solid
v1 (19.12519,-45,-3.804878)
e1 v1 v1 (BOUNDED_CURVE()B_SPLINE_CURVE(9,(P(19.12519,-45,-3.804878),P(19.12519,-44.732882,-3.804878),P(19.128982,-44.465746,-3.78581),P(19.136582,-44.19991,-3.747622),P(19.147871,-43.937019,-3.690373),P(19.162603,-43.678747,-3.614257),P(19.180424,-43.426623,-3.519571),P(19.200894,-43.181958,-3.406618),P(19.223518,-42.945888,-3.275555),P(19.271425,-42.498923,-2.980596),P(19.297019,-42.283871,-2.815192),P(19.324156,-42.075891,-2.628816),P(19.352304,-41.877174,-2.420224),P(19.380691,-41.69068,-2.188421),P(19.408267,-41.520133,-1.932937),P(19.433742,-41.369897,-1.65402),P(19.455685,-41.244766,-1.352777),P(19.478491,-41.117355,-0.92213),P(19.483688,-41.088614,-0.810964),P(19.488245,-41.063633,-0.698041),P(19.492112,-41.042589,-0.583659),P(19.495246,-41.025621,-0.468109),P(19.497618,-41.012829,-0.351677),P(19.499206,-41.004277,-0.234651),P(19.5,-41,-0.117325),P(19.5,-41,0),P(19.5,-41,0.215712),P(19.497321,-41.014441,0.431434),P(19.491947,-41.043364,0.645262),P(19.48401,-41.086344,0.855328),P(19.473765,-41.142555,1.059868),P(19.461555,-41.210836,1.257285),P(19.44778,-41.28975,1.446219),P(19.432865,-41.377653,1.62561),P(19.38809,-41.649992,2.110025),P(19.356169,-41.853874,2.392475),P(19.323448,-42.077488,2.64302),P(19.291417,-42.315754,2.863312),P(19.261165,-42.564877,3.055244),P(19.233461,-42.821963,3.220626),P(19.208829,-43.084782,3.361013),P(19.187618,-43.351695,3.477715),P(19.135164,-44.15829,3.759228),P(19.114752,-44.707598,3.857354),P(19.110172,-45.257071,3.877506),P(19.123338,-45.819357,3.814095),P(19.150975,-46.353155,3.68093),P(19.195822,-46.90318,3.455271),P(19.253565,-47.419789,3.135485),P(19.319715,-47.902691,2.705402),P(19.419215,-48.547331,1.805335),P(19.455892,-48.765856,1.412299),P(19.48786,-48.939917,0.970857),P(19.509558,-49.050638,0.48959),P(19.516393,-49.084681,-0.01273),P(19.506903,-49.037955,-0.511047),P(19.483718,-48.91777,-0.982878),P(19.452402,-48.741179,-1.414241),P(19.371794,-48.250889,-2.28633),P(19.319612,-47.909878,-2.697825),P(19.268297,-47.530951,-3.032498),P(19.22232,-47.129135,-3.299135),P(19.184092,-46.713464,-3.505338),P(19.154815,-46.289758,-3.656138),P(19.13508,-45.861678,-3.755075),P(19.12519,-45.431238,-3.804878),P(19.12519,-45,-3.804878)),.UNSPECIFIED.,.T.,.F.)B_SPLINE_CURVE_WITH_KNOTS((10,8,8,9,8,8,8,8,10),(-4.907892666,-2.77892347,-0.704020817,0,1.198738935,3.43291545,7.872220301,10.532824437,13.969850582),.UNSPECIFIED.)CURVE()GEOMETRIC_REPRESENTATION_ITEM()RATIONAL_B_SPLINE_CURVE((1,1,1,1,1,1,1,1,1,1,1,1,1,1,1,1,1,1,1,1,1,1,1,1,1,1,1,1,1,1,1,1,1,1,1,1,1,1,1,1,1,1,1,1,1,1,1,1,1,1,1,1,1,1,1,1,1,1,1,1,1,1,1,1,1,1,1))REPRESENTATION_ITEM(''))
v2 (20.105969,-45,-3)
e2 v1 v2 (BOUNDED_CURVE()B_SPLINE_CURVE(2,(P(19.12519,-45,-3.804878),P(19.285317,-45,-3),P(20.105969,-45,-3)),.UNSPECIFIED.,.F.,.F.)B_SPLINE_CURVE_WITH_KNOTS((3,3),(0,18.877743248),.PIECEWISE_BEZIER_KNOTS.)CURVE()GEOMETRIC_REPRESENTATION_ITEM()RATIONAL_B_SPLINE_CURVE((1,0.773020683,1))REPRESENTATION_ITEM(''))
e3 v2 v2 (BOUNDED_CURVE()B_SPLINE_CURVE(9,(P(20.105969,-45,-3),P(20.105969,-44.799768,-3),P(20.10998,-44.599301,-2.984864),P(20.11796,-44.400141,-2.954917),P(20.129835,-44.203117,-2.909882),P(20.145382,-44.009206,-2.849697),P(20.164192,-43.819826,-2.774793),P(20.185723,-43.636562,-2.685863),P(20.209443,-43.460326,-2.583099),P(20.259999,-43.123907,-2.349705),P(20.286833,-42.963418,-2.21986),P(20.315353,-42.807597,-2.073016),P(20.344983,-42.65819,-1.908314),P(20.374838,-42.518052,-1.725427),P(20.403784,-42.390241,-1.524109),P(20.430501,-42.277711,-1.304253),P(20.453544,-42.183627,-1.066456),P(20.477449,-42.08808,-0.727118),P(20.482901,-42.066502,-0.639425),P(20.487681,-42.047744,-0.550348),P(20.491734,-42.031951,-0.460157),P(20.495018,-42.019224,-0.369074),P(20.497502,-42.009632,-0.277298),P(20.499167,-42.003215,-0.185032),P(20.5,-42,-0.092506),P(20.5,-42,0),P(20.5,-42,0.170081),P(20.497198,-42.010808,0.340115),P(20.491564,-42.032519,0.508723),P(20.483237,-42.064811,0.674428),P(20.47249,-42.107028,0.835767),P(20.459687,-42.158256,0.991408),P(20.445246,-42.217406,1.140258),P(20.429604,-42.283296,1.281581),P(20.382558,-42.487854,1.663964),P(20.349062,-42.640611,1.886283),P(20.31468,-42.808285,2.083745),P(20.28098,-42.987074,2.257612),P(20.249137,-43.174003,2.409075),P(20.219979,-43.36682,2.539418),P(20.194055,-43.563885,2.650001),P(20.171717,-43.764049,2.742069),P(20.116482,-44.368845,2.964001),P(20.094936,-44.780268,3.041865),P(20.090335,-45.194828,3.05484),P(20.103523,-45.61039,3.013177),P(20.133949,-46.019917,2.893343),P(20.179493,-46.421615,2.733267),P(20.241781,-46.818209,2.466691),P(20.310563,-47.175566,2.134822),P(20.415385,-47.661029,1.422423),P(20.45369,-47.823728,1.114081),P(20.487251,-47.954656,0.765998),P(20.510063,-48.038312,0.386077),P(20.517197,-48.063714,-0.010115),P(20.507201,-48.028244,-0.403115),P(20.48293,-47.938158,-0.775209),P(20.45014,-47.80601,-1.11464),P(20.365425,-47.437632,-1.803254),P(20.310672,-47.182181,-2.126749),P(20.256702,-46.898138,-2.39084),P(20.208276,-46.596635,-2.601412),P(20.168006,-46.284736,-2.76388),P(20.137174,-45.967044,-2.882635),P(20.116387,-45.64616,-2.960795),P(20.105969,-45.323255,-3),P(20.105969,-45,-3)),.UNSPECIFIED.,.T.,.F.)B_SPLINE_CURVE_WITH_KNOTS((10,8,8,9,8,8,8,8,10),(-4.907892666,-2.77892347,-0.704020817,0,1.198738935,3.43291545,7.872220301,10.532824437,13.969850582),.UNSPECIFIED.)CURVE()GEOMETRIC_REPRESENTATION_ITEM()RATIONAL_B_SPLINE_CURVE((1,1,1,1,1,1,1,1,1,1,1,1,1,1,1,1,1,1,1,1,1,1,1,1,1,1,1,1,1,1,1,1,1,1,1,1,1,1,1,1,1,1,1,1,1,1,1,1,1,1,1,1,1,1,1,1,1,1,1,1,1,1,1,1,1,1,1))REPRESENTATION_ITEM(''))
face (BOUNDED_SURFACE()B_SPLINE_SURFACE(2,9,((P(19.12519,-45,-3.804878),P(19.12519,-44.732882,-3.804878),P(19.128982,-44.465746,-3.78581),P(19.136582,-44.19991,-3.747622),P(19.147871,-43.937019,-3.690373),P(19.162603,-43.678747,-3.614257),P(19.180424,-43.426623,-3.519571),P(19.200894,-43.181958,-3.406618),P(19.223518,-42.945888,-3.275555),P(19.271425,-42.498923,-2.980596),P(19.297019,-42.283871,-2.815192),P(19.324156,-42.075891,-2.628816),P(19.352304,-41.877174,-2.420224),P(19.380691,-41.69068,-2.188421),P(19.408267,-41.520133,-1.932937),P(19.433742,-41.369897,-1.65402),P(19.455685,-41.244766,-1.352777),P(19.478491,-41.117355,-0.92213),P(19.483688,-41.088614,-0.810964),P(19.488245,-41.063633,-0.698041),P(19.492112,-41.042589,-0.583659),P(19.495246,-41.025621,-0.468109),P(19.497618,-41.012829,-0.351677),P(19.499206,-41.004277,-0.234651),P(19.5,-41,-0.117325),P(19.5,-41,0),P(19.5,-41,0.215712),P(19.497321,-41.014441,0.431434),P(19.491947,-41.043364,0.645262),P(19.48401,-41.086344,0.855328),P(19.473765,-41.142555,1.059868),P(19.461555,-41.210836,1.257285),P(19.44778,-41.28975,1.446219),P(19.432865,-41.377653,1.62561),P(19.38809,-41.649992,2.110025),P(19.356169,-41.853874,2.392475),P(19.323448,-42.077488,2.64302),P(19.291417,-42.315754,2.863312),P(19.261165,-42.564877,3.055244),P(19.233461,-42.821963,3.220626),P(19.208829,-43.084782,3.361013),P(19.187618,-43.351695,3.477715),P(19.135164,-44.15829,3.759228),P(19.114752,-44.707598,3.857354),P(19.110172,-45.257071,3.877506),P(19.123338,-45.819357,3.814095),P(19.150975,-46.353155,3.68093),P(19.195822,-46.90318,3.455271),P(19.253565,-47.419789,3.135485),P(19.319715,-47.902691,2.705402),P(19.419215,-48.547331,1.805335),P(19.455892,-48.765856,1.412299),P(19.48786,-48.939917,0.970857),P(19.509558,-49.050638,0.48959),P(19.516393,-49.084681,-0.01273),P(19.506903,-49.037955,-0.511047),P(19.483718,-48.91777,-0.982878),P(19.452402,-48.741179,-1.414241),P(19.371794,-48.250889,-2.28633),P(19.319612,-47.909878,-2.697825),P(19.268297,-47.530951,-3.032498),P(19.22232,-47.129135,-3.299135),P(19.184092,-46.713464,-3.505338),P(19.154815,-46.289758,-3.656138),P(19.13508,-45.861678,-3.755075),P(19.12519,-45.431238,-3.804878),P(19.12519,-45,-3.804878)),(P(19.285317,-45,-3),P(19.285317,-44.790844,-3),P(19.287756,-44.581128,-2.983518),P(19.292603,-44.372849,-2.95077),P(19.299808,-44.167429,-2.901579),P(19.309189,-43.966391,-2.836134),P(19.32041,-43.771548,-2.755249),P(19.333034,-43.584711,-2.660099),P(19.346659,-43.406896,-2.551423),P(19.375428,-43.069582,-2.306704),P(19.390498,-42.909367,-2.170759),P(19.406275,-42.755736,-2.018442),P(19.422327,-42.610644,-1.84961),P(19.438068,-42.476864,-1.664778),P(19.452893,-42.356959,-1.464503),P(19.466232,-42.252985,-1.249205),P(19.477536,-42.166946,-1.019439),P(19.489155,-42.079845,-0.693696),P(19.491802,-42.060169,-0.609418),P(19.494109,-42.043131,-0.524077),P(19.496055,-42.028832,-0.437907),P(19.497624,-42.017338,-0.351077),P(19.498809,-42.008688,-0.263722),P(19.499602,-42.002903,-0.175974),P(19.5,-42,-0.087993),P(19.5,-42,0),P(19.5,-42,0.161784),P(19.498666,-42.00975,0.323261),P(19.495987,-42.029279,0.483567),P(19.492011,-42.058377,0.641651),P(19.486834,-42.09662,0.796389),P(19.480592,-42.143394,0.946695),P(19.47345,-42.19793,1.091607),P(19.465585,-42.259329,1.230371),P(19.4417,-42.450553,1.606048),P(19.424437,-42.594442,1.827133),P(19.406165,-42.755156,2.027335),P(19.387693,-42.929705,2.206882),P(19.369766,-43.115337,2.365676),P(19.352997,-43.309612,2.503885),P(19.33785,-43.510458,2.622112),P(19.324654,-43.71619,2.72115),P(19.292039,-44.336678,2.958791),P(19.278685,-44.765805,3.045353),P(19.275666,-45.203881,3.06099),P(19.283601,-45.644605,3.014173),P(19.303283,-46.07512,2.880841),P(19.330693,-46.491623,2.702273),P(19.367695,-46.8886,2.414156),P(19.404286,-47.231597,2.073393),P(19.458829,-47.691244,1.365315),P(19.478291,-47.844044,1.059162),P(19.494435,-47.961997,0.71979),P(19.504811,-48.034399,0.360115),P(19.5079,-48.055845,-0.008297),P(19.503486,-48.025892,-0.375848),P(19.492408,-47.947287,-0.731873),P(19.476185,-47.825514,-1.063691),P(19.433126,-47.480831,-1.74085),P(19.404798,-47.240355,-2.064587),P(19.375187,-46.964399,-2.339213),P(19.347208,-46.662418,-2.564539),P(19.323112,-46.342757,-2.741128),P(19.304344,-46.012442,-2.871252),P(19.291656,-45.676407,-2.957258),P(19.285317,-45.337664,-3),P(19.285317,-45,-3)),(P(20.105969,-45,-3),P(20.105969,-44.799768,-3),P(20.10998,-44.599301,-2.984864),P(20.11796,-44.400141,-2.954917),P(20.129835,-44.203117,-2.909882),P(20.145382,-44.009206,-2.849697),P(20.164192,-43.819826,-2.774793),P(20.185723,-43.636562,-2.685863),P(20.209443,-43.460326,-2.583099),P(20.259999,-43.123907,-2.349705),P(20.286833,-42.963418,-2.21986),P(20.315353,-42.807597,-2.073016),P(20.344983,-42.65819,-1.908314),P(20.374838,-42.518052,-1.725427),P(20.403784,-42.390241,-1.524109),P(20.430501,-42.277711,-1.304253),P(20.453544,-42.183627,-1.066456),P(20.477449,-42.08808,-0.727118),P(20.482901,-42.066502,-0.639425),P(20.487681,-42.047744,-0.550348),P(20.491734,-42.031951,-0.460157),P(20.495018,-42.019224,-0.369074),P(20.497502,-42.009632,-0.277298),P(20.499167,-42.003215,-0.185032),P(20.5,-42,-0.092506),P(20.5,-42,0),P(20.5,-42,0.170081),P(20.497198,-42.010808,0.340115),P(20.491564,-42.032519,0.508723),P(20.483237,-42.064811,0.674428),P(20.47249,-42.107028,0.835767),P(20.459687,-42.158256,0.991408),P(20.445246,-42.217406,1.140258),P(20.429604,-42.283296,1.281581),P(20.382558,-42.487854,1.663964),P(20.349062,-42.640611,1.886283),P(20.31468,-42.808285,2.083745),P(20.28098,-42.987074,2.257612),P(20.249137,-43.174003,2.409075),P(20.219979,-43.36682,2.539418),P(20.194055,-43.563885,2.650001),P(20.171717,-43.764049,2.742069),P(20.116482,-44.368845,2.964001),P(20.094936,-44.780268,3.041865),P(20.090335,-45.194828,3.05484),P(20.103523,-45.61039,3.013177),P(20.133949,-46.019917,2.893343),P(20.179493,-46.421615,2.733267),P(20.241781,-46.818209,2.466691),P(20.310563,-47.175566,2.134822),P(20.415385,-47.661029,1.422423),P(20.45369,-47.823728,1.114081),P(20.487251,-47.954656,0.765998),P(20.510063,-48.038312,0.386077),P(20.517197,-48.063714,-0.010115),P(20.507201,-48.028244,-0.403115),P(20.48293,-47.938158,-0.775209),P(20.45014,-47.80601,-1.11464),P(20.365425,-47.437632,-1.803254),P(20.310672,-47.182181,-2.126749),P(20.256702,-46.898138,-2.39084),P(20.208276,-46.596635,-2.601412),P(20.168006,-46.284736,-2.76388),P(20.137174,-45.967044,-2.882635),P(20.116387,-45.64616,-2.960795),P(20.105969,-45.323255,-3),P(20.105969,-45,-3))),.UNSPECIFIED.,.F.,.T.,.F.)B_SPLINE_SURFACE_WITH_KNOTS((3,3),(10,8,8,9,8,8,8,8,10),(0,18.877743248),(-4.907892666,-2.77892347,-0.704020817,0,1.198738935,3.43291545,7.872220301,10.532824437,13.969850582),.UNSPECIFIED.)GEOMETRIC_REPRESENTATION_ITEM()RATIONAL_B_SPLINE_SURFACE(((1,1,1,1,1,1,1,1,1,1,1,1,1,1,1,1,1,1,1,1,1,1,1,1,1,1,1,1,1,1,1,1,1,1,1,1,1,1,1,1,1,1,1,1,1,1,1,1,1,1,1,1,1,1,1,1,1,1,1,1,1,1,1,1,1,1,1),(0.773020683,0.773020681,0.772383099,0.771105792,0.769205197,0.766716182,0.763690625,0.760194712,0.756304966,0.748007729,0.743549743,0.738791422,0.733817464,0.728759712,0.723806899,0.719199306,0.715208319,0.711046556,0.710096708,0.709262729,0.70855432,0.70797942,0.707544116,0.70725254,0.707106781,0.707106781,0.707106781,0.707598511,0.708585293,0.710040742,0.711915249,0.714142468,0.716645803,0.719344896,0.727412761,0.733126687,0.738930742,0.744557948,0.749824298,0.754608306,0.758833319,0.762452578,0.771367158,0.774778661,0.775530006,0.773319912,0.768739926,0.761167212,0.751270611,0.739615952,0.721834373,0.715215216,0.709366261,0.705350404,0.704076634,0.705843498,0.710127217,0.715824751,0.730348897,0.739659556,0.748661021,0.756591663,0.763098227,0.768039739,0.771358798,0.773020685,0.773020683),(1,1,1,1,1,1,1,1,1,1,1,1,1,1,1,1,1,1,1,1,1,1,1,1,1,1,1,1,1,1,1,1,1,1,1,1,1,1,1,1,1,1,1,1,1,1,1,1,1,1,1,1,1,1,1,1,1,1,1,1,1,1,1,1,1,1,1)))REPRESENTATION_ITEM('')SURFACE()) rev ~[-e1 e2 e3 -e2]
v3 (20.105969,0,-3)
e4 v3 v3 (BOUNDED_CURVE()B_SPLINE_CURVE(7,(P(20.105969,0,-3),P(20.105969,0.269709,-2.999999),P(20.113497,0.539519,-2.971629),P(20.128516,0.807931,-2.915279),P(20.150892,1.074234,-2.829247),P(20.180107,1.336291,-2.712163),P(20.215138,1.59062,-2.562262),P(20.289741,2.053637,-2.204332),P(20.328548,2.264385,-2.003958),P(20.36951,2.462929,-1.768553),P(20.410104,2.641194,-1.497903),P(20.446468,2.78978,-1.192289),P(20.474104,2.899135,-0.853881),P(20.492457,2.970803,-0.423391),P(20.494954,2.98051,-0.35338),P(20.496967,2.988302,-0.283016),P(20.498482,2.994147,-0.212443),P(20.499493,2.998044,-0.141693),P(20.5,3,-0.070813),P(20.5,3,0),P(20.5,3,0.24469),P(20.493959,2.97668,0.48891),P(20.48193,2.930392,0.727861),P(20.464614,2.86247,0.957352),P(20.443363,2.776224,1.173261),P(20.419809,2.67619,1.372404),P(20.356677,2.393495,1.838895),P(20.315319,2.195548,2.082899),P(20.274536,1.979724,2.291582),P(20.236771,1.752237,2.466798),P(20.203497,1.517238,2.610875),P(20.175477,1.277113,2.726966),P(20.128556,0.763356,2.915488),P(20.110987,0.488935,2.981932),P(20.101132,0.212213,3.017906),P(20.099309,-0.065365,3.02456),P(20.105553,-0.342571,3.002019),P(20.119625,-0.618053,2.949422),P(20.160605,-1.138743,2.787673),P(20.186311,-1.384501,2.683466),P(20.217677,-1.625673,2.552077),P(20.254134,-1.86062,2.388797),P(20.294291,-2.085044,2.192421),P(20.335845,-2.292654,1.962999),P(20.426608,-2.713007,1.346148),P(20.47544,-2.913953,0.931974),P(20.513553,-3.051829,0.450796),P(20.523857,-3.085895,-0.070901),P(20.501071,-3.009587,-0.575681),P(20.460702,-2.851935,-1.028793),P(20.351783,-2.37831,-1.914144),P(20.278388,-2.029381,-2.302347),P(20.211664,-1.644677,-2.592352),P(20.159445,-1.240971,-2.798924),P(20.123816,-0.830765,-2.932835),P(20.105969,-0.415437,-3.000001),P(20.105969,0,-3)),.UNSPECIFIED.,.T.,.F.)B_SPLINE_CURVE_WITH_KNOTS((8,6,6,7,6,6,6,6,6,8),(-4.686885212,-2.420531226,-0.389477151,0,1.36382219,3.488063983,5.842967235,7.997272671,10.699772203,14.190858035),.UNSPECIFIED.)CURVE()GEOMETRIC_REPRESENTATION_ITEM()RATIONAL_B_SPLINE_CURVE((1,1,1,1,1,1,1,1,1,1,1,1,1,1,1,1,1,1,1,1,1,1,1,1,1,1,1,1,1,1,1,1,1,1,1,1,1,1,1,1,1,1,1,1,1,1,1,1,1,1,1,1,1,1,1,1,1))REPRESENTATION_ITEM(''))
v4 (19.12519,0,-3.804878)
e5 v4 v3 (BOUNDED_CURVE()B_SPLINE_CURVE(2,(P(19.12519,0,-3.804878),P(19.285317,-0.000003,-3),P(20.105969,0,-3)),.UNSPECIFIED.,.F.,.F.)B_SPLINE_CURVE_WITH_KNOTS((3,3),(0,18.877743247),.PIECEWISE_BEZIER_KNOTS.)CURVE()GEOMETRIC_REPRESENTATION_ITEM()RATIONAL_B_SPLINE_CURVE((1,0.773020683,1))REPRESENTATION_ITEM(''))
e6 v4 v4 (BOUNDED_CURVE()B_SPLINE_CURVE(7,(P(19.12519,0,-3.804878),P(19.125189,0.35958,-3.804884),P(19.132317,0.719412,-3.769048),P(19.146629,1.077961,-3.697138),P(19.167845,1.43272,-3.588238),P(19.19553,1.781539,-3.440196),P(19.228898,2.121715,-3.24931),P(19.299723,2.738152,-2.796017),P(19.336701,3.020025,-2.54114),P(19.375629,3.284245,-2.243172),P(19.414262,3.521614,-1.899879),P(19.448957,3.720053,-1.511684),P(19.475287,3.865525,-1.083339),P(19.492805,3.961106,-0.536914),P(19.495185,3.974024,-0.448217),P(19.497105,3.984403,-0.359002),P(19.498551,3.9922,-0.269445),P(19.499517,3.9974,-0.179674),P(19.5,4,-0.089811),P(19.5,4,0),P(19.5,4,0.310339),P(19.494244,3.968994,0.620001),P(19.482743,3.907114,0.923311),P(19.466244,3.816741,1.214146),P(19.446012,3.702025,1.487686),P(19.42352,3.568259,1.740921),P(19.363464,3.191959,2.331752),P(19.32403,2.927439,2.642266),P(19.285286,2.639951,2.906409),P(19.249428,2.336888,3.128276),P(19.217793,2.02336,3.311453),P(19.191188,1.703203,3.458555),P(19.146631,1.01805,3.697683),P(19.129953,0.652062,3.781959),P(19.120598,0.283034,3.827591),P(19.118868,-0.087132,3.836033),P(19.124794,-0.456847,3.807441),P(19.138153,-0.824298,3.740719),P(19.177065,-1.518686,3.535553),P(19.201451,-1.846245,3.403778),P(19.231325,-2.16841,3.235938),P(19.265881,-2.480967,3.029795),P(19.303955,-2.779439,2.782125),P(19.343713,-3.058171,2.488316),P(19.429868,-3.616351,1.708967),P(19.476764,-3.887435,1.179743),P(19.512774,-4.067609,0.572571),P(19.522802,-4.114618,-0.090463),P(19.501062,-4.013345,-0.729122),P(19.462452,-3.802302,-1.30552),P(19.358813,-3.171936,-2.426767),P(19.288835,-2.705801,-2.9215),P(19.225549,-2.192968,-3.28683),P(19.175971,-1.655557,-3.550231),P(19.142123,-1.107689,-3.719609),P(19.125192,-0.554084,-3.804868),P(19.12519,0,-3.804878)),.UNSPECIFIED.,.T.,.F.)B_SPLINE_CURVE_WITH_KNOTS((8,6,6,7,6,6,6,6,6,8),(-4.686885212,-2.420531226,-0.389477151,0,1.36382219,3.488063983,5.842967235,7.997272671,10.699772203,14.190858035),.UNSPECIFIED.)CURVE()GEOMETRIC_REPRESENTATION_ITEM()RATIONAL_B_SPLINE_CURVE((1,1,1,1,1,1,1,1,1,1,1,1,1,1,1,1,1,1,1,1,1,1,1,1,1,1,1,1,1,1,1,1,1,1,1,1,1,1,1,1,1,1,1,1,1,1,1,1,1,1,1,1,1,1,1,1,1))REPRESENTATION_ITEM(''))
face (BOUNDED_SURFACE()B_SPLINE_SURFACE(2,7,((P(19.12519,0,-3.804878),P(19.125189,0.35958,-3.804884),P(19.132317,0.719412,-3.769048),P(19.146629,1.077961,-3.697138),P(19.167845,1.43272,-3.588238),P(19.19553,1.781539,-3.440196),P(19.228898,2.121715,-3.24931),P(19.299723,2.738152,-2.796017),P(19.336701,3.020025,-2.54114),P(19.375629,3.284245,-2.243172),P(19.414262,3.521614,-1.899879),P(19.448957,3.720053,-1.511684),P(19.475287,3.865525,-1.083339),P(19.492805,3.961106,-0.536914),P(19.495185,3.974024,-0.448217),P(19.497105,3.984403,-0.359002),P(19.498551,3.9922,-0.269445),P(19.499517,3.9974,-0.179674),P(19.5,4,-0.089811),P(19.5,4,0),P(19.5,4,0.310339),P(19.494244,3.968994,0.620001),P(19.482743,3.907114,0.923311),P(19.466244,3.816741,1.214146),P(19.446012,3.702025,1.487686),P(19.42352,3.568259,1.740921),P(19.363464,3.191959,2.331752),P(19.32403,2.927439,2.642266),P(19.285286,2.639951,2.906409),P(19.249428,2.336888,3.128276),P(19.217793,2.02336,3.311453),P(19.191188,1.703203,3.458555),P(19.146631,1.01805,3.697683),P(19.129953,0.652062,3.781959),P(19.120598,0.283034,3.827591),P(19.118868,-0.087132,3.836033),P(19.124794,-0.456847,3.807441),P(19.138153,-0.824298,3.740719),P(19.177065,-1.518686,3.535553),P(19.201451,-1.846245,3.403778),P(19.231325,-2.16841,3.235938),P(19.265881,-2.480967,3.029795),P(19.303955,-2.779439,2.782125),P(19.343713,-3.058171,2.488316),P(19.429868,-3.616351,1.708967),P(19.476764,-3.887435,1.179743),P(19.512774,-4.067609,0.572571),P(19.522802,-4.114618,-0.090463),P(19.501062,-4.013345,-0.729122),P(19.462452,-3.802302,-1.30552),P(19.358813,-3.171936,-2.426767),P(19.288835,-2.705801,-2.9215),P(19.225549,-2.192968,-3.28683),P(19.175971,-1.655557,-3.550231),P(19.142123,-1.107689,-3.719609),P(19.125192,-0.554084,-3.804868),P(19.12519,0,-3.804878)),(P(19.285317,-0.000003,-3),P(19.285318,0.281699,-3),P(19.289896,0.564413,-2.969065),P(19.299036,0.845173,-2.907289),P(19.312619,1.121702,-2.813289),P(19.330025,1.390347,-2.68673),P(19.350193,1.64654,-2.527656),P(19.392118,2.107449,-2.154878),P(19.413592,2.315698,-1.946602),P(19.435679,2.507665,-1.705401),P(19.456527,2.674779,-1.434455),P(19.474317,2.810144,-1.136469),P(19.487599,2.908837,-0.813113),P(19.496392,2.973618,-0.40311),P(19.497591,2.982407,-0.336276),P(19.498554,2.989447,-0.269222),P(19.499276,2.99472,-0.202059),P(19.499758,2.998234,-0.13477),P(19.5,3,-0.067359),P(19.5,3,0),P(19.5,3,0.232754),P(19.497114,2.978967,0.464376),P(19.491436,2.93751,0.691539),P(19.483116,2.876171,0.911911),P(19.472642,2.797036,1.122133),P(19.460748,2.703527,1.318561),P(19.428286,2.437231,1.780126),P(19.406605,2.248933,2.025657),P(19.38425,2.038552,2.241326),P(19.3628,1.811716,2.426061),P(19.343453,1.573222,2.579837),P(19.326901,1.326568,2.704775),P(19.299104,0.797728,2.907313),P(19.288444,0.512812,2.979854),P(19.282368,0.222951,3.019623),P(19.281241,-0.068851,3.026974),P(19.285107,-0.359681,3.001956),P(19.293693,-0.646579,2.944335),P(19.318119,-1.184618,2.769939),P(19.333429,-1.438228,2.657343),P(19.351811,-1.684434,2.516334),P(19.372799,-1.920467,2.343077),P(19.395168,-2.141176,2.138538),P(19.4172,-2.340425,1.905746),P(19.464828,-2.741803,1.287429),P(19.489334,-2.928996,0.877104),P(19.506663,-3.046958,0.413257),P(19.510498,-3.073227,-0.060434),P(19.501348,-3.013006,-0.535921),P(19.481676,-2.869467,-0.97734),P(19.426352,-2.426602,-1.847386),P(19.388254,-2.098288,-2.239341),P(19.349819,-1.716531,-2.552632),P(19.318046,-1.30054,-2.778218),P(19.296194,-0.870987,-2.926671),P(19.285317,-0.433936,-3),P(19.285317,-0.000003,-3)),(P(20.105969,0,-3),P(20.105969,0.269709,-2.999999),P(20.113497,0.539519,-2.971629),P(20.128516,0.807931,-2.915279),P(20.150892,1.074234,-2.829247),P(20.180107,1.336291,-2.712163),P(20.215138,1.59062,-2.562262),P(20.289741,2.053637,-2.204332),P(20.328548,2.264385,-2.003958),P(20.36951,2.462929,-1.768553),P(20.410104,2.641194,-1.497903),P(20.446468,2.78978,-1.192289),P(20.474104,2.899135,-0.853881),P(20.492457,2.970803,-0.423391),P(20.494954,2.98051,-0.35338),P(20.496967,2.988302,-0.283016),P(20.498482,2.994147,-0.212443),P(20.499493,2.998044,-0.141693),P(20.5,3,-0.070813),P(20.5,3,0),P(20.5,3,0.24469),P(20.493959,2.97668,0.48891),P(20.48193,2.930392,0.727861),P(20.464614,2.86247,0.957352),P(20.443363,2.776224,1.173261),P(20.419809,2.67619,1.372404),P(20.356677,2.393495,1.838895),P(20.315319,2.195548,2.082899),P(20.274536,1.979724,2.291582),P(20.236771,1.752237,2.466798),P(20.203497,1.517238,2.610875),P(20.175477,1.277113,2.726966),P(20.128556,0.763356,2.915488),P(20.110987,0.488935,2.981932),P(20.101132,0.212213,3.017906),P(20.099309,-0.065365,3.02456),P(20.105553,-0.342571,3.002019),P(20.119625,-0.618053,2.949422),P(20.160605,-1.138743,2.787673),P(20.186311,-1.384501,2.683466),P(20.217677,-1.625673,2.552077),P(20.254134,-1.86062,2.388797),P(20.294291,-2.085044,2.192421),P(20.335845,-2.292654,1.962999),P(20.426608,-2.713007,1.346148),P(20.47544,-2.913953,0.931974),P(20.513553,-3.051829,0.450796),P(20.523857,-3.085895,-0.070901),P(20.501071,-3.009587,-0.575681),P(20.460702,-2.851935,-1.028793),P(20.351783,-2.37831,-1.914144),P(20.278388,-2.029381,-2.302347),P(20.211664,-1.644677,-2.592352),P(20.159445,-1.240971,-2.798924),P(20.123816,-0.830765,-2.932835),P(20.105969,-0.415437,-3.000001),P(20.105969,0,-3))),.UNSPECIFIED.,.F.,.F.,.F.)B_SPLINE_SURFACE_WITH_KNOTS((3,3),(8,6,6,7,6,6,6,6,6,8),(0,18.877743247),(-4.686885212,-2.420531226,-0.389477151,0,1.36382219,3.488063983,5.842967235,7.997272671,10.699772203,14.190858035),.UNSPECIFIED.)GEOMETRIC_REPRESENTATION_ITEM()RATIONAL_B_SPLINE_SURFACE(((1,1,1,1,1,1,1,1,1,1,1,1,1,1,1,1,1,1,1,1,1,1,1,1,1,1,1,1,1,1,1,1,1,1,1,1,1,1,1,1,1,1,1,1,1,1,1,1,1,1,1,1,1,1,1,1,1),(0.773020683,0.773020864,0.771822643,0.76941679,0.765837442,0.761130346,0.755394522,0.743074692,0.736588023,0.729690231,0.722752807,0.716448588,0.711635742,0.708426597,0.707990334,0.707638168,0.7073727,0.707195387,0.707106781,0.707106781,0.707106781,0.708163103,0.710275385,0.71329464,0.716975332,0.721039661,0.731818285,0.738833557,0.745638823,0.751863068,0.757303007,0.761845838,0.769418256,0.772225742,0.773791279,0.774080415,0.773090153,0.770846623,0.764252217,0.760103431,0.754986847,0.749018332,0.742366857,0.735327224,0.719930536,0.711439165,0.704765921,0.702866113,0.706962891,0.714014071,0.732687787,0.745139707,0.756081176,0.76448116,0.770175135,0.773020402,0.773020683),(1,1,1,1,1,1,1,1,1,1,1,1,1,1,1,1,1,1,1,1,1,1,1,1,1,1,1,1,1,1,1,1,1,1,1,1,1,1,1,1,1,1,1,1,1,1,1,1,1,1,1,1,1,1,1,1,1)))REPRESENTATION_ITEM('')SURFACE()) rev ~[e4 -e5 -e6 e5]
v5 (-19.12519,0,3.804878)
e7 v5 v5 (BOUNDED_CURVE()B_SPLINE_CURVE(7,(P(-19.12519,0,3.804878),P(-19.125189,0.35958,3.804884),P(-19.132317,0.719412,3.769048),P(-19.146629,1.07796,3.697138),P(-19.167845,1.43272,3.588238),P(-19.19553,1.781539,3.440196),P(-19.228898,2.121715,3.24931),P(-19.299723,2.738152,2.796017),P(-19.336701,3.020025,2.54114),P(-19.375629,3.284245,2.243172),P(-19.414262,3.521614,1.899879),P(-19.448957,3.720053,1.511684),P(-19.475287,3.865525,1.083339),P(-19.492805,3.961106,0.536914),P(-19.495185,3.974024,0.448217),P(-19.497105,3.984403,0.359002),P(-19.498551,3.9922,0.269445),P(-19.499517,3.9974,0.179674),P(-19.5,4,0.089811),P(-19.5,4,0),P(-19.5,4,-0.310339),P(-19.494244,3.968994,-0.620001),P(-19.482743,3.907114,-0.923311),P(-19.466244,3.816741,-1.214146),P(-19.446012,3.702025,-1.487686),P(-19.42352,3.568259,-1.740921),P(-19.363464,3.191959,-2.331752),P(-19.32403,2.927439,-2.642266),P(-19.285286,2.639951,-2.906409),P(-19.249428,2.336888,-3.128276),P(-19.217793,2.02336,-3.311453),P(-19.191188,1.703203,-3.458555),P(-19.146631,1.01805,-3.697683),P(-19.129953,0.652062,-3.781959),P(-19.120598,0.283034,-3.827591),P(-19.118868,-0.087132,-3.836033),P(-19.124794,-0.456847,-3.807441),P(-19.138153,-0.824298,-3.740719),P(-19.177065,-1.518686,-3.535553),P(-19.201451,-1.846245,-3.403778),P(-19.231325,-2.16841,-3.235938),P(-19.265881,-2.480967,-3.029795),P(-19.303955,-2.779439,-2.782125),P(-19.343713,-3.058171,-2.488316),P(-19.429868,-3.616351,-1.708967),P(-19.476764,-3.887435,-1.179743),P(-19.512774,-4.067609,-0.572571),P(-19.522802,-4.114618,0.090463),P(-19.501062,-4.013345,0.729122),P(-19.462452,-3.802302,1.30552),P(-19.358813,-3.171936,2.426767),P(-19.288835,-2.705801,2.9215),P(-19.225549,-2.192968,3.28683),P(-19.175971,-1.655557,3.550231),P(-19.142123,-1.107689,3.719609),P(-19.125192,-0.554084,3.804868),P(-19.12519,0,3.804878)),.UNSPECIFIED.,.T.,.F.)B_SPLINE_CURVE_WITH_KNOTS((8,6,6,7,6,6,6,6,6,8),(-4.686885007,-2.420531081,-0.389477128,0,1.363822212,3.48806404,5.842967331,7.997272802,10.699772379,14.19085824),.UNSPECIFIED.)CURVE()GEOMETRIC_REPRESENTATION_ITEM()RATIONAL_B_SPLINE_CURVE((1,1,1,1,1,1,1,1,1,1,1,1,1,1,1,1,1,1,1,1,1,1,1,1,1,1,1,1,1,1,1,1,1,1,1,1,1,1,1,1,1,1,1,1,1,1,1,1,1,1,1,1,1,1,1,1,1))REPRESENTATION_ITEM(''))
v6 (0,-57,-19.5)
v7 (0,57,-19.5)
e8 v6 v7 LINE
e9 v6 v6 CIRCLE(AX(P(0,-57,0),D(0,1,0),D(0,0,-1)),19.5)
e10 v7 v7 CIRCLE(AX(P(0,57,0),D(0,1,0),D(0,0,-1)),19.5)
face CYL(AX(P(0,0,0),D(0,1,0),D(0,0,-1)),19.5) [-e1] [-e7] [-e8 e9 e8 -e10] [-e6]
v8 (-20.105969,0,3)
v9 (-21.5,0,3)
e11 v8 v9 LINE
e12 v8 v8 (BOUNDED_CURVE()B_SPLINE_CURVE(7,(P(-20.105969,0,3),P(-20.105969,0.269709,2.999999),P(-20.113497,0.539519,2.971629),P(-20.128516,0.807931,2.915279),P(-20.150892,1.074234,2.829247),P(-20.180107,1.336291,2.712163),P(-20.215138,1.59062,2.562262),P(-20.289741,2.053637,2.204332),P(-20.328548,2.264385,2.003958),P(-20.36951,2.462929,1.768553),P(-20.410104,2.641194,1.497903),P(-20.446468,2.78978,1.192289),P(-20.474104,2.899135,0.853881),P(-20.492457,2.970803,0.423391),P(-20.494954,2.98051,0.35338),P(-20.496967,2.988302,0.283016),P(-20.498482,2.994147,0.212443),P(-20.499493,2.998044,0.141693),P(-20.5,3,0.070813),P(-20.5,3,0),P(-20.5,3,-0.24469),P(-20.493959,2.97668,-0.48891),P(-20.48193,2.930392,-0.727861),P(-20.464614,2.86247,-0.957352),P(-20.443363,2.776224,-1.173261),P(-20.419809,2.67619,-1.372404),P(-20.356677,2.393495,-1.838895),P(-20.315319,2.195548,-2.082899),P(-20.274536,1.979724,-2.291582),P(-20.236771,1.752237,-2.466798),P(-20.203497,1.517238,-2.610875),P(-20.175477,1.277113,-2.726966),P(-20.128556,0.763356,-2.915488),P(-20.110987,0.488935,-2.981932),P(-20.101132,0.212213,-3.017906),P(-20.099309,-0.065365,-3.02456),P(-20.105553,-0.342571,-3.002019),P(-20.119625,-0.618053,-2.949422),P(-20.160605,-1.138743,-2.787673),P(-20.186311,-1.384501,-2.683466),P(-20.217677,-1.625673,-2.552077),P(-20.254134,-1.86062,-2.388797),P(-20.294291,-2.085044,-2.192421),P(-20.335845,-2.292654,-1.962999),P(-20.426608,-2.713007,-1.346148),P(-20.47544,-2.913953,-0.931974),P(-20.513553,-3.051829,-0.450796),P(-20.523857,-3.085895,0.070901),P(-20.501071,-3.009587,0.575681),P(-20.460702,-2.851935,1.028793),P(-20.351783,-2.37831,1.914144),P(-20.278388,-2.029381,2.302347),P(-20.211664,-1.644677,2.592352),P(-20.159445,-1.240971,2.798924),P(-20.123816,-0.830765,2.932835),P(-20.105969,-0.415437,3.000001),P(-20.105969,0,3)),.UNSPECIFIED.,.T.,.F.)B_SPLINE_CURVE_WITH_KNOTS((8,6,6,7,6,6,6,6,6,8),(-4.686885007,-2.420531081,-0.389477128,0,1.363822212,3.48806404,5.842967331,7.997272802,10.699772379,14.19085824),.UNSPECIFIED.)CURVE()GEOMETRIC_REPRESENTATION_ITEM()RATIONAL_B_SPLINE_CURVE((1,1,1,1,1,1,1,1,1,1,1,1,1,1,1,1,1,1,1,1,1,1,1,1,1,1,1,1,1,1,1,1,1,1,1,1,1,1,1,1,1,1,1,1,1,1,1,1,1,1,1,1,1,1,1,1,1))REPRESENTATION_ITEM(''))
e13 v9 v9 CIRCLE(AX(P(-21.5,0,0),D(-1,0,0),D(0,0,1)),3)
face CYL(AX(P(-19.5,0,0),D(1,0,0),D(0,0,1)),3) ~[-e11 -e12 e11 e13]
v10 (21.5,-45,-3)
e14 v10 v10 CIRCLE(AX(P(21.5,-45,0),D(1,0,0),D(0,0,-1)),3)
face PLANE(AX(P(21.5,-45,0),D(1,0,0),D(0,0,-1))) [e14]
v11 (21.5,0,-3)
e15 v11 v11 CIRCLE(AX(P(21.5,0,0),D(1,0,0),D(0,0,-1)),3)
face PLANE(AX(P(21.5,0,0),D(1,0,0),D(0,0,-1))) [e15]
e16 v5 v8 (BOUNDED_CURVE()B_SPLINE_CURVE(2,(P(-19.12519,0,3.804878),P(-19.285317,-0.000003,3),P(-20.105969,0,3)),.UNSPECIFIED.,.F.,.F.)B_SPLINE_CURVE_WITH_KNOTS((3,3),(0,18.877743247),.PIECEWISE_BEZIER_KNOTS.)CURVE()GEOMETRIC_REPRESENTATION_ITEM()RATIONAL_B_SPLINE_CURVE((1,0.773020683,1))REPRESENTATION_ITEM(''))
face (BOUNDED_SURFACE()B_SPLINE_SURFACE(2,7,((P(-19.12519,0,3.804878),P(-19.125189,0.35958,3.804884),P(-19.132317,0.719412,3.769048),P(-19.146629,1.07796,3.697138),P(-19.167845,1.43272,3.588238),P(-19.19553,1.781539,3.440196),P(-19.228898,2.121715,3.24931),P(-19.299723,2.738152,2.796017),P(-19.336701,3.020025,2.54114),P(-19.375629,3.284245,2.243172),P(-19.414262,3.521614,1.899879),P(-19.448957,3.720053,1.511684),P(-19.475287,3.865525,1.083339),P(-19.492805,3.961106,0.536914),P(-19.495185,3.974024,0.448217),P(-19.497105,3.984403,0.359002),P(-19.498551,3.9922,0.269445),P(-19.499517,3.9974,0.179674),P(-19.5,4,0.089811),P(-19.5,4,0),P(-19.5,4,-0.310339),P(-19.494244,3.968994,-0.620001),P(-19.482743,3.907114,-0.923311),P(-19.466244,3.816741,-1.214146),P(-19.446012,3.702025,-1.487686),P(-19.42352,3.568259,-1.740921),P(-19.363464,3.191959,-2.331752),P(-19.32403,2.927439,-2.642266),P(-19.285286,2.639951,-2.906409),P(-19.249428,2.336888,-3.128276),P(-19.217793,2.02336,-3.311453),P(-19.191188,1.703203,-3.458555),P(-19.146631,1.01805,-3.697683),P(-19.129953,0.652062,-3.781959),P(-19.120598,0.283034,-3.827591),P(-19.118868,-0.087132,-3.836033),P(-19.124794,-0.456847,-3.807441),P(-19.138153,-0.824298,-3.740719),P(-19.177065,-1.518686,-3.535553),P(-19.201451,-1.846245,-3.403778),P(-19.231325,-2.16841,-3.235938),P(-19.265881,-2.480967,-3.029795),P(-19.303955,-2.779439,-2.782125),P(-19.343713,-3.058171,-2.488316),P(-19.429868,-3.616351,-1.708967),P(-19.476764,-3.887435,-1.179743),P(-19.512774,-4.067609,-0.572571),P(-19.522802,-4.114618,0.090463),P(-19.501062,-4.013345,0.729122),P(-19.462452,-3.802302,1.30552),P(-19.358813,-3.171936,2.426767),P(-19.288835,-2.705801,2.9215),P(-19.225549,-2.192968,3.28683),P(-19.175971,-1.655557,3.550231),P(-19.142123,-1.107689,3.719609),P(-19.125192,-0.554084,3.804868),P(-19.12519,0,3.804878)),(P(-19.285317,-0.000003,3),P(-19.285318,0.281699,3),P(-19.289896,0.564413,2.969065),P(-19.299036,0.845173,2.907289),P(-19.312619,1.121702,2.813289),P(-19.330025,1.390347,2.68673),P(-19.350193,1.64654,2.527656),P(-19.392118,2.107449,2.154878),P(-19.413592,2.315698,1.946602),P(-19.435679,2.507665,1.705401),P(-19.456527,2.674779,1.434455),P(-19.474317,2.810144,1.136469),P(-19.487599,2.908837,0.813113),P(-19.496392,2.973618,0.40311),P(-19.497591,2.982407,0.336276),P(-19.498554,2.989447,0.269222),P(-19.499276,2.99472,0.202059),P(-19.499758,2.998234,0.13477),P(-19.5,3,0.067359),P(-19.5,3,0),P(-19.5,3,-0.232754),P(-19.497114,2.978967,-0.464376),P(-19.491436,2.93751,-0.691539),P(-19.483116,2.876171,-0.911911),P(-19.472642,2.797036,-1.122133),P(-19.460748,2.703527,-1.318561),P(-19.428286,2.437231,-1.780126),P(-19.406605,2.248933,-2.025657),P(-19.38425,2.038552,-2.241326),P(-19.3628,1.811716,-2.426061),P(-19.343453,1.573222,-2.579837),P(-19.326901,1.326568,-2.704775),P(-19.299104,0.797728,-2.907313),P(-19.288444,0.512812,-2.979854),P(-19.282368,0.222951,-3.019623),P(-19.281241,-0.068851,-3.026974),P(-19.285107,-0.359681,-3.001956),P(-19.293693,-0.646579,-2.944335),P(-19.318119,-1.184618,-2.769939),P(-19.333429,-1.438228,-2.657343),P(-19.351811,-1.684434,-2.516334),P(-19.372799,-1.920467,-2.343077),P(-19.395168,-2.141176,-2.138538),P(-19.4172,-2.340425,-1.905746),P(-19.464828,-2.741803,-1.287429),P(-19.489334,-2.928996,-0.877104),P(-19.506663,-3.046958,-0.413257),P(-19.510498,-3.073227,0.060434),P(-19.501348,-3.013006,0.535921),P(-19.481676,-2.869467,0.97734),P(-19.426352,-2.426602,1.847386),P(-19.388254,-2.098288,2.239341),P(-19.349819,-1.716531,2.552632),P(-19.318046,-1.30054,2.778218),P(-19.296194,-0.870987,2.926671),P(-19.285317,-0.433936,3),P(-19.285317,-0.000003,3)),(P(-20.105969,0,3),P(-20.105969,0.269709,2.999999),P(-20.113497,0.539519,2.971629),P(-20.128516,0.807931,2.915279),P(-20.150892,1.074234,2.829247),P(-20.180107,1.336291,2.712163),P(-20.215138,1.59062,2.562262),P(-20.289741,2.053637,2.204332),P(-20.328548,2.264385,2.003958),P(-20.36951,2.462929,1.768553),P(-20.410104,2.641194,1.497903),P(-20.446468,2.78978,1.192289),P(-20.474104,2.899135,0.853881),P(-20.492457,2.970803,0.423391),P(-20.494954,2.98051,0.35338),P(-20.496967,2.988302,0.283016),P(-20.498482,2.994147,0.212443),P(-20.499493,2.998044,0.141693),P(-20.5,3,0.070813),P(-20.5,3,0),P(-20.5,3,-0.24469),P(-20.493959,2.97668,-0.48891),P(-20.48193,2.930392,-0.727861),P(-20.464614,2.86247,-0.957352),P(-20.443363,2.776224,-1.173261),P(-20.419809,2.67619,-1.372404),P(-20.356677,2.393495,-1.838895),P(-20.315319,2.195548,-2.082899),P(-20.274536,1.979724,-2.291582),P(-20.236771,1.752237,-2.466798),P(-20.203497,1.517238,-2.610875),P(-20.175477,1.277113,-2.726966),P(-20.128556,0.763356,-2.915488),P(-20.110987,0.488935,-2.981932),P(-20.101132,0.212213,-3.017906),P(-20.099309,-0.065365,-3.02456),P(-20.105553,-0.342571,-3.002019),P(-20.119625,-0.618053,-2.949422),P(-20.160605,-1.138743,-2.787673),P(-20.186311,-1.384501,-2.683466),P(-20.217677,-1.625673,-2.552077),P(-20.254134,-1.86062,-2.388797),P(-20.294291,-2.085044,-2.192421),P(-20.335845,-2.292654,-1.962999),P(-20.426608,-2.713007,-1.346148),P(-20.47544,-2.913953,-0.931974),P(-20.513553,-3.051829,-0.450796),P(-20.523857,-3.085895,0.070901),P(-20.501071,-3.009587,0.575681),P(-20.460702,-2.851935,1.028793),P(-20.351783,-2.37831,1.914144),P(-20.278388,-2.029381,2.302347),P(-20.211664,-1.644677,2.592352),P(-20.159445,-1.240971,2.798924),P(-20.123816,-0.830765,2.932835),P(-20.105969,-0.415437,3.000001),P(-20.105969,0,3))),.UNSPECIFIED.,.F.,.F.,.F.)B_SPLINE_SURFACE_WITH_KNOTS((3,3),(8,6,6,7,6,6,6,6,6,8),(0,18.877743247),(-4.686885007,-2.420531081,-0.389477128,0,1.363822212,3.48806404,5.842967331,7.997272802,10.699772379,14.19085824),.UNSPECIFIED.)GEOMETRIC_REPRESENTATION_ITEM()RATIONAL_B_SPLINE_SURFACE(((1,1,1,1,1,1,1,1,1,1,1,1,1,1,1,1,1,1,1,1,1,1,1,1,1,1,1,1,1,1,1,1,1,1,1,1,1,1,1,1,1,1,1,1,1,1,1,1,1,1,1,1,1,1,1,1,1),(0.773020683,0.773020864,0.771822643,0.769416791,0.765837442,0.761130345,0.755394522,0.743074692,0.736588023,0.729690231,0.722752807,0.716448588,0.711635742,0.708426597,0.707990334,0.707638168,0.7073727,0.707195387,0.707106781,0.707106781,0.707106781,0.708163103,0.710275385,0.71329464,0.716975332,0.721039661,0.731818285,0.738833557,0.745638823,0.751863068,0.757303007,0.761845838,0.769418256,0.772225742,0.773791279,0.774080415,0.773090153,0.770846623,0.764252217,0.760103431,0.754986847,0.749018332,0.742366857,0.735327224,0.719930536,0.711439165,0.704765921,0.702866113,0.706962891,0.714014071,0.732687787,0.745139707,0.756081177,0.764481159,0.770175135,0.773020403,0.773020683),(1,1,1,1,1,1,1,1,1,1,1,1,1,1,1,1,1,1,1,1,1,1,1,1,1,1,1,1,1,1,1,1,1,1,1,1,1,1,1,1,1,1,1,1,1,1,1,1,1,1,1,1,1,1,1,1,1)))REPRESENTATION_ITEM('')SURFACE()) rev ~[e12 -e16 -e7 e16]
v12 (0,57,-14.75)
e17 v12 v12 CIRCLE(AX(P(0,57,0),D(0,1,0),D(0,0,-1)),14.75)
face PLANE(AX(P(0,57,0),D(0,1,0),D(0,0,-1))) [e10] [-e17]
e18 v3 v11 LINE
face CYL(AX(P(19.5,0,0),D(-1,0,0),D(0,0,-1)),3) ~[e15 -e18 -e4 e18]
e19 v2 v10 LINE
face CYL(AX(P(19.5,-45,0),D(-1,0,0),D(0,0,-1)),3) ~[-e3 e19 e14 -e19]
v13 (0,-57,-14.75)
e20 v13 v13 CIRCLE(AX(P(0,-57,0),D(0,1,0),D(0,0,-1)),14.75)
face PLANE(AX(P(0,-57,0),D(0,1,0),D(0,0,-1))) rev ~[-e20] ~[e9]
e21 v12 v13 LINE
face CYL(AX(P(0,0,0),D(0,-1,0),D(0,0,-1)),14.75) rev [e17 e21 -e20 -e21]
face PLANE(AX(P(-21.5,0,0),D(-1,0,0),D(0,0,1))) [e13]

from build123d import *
from build123d.topology import SkipClean

# Parameters (mm, degrees)
SKETCH1_R                            = 19.5
SKETCH1_R_2                          = 14.75
BOSS_EXTRUDE1_DEPTH                  = 57
SKETCH2_R                            = 3
BOSS_EXTRUDE2_DEPTH                  = 2
BOSS_EXTRUDE2_DIRECTION_2_REACH      = 73.765
BOSS_EXTRUDE2_DIRECTION_2_END_RADIUS = 19.5
SKETCH3_R                            = 3
BOSS_EXTRUDE4_DEPTH                  = 2
BOSS_EXTRUDE4_DIRECTION_2_REACH      = 74.871
BOSS_EXTRUDE4_DIRECTION_2_END_RADIUS = 19.5
FILLET3_R                            = 1


with BuildPart() as part:
    # Sketch1 → Boss-Extrude1 (new, symmetric)
    with BuildSketch(Plane(origin=(0, 0, 0), x_dir=(1, 0, 0), z_dir=(0, 1, 0))):
        with Locations(Location((0, 0, 0), (0, 0, 90))):
            Circle(SKETCH1_R)
        with Locations(Location((0, 0, 0), (0, 0, 90))):
            Circle(SKETCH1_R_2, mode=Mode.SUBTRACT)
    extrude(amount=BOSS_EXTRUDE1_DEPTH, both=True)


with BuildPart() as body_2:
    # Sketch2 → Boss-Extrude2 (new body)
    with BuildSketch(Plane(origin=(19.5, 0, 0), x_dir=(0, 0, -1), z_dir=(1, 0, 0))):
        with Locations((0, -45)):
            Circle(SKETCH2_R)
        Circle(SKETCH2_R)
    extrude(amount=BOSS_EXTRUDE2_DEPTH)

    # Boss-Extrude2 direction 2: up to this cylinder (the profile starts outside it)
    with SkipClean():  # the faces are left unmerged after this step: merging them gives an invalid solid
        boss_extrude2_direction_2_end = Plane(origin=(0, -22.5, 0), z_dir=(0, -1, 0)) * Cylinder(BOSS_EXTRUDE2_DIRECTION_2_END_RADIUS, 232.53, mode=Mode.PRIVATE)
        # Sketch2 → Boss-Extrude2 direction 2 (add, up to the surface)
        with BuildSketch(Plane(origin=(19.5, 0, 0), x_dir=(0, 0, -1), z_dir=(1, 0, 0)), mode=Mode.PRIVATE) as boss_extrude2_direction_2_sk1:
            with Locations((0, -45)):
                Circle(SKETCH2_R)
        boss_extrude2_direction_2_tool1 = extrude(boss_extrude2_direction_2_sk1.sketch, amount=-BOSS_EXTRUDE2_DIRECTION_2_REACH, mode=Mode.PRIVATE) - boss_extrude2_direction_2_end
        add(boss_extrude2_direction_2_tool1.solids().sort_by_distance((19.5, -45, 0))[0])
        add(boss_extrude2_direction_2_tool1.solids().sort_by_distance((19.5, -45, 0))[1])
        # Sketch2 → Boss-Extrude2 direction 2 (add, up to the surface)
        with BuildSketch(Plane(origin=(19.5, 0, 0), x_dir=(0, 0, -1), z_dir=(1, 0, 0)), mode=Mode.PRIVATE) as boss_extrude2_direction_2_sk2:
            Circle(SKETCH2_R)
        boss_extrude2_direction_2_tool2 = extrude(boss_extrude2_direction_2_sk2.sketch, amount=-BOSS_EXTRUDE2_DIRECTION_2_REACH, mode=Mode.PRIVATE) - boss_extrude2_direction_2_end
        add(boss_extrude2_direction_2_tool2.solids().sort_by_distance((19.5, 0, 0))[0])
        add(boss_extrude2_direction_2_tool2.solids().sort_by_distance((19.5, 0, 0))[1])


with BuildPart() as body_3:
    # Sketch3 → Boss-Extrude4 (new body)
    with BuildSketch(Plane.ZY.offset(19.5)):
        Circle(SKETCH3_R)
    extrude(amount=BOSS_EXTRUDE4_DEPTH)

    # Boss-Extrude4 direction 2: up to this cylinder (the profile starts outside it)
    with SkipClean():  # the faces are left unmerged after this step: merging them gives an invalid solid
        boss_extrude4_direction_2_end = Plane(origin=(0, 0, 0), z_dir=(0, -1, 0)) * Cylinder(BOSS_EXTRUDE4_DIRECTION_2_END_RADIUS, 189.742, mode=Mode.PRIVATE)
        # Sketch3 → Boss-Extrude4 direction 2 (add, up to the surface)
        with BuildSketch(Plane.ZY.offset(19.5), mode=Mode.PRIVATE) as boss_extrude4_direction_2_sk1:
            Circle(SKETCH3_R)
        boss_extrude4_direction_2_tool1 = extrude(boss_extrude4_direction_2_sk1.sketch, amount=-BOSS_EXTRUDE4_DIRECTION_2_REACH, mode=Mode.PRIVATE) - boss_extrude4_direction_2_end
        add(boss_extrude4_direction_2_tool1.solids().sort_by_distance((-19.5, 0, 0))[0])
        add(boss_extrude4_direction_2_tool1.solids().sort_by_distance((-19.5, 0, 0))[1])


with BuildPart() as body_2_1:
    add(body_2.part)

    # Combine1: union part, body 3
    add(part.part)
    add(body_3.part)

    # Fillet3
    fillet3_edges = [body_2_1.edges().sort_by_distance(p)[0] for p in [
        (19.267848866, -45, 3.000000015),
        (19.267848866, 0, 3.000000015),
        (-19.267848866, 0, -3.000000015),
    ]]
    fillet(fillet3_edges, radius=FILLET3_R)


solid = body_2_1.part
